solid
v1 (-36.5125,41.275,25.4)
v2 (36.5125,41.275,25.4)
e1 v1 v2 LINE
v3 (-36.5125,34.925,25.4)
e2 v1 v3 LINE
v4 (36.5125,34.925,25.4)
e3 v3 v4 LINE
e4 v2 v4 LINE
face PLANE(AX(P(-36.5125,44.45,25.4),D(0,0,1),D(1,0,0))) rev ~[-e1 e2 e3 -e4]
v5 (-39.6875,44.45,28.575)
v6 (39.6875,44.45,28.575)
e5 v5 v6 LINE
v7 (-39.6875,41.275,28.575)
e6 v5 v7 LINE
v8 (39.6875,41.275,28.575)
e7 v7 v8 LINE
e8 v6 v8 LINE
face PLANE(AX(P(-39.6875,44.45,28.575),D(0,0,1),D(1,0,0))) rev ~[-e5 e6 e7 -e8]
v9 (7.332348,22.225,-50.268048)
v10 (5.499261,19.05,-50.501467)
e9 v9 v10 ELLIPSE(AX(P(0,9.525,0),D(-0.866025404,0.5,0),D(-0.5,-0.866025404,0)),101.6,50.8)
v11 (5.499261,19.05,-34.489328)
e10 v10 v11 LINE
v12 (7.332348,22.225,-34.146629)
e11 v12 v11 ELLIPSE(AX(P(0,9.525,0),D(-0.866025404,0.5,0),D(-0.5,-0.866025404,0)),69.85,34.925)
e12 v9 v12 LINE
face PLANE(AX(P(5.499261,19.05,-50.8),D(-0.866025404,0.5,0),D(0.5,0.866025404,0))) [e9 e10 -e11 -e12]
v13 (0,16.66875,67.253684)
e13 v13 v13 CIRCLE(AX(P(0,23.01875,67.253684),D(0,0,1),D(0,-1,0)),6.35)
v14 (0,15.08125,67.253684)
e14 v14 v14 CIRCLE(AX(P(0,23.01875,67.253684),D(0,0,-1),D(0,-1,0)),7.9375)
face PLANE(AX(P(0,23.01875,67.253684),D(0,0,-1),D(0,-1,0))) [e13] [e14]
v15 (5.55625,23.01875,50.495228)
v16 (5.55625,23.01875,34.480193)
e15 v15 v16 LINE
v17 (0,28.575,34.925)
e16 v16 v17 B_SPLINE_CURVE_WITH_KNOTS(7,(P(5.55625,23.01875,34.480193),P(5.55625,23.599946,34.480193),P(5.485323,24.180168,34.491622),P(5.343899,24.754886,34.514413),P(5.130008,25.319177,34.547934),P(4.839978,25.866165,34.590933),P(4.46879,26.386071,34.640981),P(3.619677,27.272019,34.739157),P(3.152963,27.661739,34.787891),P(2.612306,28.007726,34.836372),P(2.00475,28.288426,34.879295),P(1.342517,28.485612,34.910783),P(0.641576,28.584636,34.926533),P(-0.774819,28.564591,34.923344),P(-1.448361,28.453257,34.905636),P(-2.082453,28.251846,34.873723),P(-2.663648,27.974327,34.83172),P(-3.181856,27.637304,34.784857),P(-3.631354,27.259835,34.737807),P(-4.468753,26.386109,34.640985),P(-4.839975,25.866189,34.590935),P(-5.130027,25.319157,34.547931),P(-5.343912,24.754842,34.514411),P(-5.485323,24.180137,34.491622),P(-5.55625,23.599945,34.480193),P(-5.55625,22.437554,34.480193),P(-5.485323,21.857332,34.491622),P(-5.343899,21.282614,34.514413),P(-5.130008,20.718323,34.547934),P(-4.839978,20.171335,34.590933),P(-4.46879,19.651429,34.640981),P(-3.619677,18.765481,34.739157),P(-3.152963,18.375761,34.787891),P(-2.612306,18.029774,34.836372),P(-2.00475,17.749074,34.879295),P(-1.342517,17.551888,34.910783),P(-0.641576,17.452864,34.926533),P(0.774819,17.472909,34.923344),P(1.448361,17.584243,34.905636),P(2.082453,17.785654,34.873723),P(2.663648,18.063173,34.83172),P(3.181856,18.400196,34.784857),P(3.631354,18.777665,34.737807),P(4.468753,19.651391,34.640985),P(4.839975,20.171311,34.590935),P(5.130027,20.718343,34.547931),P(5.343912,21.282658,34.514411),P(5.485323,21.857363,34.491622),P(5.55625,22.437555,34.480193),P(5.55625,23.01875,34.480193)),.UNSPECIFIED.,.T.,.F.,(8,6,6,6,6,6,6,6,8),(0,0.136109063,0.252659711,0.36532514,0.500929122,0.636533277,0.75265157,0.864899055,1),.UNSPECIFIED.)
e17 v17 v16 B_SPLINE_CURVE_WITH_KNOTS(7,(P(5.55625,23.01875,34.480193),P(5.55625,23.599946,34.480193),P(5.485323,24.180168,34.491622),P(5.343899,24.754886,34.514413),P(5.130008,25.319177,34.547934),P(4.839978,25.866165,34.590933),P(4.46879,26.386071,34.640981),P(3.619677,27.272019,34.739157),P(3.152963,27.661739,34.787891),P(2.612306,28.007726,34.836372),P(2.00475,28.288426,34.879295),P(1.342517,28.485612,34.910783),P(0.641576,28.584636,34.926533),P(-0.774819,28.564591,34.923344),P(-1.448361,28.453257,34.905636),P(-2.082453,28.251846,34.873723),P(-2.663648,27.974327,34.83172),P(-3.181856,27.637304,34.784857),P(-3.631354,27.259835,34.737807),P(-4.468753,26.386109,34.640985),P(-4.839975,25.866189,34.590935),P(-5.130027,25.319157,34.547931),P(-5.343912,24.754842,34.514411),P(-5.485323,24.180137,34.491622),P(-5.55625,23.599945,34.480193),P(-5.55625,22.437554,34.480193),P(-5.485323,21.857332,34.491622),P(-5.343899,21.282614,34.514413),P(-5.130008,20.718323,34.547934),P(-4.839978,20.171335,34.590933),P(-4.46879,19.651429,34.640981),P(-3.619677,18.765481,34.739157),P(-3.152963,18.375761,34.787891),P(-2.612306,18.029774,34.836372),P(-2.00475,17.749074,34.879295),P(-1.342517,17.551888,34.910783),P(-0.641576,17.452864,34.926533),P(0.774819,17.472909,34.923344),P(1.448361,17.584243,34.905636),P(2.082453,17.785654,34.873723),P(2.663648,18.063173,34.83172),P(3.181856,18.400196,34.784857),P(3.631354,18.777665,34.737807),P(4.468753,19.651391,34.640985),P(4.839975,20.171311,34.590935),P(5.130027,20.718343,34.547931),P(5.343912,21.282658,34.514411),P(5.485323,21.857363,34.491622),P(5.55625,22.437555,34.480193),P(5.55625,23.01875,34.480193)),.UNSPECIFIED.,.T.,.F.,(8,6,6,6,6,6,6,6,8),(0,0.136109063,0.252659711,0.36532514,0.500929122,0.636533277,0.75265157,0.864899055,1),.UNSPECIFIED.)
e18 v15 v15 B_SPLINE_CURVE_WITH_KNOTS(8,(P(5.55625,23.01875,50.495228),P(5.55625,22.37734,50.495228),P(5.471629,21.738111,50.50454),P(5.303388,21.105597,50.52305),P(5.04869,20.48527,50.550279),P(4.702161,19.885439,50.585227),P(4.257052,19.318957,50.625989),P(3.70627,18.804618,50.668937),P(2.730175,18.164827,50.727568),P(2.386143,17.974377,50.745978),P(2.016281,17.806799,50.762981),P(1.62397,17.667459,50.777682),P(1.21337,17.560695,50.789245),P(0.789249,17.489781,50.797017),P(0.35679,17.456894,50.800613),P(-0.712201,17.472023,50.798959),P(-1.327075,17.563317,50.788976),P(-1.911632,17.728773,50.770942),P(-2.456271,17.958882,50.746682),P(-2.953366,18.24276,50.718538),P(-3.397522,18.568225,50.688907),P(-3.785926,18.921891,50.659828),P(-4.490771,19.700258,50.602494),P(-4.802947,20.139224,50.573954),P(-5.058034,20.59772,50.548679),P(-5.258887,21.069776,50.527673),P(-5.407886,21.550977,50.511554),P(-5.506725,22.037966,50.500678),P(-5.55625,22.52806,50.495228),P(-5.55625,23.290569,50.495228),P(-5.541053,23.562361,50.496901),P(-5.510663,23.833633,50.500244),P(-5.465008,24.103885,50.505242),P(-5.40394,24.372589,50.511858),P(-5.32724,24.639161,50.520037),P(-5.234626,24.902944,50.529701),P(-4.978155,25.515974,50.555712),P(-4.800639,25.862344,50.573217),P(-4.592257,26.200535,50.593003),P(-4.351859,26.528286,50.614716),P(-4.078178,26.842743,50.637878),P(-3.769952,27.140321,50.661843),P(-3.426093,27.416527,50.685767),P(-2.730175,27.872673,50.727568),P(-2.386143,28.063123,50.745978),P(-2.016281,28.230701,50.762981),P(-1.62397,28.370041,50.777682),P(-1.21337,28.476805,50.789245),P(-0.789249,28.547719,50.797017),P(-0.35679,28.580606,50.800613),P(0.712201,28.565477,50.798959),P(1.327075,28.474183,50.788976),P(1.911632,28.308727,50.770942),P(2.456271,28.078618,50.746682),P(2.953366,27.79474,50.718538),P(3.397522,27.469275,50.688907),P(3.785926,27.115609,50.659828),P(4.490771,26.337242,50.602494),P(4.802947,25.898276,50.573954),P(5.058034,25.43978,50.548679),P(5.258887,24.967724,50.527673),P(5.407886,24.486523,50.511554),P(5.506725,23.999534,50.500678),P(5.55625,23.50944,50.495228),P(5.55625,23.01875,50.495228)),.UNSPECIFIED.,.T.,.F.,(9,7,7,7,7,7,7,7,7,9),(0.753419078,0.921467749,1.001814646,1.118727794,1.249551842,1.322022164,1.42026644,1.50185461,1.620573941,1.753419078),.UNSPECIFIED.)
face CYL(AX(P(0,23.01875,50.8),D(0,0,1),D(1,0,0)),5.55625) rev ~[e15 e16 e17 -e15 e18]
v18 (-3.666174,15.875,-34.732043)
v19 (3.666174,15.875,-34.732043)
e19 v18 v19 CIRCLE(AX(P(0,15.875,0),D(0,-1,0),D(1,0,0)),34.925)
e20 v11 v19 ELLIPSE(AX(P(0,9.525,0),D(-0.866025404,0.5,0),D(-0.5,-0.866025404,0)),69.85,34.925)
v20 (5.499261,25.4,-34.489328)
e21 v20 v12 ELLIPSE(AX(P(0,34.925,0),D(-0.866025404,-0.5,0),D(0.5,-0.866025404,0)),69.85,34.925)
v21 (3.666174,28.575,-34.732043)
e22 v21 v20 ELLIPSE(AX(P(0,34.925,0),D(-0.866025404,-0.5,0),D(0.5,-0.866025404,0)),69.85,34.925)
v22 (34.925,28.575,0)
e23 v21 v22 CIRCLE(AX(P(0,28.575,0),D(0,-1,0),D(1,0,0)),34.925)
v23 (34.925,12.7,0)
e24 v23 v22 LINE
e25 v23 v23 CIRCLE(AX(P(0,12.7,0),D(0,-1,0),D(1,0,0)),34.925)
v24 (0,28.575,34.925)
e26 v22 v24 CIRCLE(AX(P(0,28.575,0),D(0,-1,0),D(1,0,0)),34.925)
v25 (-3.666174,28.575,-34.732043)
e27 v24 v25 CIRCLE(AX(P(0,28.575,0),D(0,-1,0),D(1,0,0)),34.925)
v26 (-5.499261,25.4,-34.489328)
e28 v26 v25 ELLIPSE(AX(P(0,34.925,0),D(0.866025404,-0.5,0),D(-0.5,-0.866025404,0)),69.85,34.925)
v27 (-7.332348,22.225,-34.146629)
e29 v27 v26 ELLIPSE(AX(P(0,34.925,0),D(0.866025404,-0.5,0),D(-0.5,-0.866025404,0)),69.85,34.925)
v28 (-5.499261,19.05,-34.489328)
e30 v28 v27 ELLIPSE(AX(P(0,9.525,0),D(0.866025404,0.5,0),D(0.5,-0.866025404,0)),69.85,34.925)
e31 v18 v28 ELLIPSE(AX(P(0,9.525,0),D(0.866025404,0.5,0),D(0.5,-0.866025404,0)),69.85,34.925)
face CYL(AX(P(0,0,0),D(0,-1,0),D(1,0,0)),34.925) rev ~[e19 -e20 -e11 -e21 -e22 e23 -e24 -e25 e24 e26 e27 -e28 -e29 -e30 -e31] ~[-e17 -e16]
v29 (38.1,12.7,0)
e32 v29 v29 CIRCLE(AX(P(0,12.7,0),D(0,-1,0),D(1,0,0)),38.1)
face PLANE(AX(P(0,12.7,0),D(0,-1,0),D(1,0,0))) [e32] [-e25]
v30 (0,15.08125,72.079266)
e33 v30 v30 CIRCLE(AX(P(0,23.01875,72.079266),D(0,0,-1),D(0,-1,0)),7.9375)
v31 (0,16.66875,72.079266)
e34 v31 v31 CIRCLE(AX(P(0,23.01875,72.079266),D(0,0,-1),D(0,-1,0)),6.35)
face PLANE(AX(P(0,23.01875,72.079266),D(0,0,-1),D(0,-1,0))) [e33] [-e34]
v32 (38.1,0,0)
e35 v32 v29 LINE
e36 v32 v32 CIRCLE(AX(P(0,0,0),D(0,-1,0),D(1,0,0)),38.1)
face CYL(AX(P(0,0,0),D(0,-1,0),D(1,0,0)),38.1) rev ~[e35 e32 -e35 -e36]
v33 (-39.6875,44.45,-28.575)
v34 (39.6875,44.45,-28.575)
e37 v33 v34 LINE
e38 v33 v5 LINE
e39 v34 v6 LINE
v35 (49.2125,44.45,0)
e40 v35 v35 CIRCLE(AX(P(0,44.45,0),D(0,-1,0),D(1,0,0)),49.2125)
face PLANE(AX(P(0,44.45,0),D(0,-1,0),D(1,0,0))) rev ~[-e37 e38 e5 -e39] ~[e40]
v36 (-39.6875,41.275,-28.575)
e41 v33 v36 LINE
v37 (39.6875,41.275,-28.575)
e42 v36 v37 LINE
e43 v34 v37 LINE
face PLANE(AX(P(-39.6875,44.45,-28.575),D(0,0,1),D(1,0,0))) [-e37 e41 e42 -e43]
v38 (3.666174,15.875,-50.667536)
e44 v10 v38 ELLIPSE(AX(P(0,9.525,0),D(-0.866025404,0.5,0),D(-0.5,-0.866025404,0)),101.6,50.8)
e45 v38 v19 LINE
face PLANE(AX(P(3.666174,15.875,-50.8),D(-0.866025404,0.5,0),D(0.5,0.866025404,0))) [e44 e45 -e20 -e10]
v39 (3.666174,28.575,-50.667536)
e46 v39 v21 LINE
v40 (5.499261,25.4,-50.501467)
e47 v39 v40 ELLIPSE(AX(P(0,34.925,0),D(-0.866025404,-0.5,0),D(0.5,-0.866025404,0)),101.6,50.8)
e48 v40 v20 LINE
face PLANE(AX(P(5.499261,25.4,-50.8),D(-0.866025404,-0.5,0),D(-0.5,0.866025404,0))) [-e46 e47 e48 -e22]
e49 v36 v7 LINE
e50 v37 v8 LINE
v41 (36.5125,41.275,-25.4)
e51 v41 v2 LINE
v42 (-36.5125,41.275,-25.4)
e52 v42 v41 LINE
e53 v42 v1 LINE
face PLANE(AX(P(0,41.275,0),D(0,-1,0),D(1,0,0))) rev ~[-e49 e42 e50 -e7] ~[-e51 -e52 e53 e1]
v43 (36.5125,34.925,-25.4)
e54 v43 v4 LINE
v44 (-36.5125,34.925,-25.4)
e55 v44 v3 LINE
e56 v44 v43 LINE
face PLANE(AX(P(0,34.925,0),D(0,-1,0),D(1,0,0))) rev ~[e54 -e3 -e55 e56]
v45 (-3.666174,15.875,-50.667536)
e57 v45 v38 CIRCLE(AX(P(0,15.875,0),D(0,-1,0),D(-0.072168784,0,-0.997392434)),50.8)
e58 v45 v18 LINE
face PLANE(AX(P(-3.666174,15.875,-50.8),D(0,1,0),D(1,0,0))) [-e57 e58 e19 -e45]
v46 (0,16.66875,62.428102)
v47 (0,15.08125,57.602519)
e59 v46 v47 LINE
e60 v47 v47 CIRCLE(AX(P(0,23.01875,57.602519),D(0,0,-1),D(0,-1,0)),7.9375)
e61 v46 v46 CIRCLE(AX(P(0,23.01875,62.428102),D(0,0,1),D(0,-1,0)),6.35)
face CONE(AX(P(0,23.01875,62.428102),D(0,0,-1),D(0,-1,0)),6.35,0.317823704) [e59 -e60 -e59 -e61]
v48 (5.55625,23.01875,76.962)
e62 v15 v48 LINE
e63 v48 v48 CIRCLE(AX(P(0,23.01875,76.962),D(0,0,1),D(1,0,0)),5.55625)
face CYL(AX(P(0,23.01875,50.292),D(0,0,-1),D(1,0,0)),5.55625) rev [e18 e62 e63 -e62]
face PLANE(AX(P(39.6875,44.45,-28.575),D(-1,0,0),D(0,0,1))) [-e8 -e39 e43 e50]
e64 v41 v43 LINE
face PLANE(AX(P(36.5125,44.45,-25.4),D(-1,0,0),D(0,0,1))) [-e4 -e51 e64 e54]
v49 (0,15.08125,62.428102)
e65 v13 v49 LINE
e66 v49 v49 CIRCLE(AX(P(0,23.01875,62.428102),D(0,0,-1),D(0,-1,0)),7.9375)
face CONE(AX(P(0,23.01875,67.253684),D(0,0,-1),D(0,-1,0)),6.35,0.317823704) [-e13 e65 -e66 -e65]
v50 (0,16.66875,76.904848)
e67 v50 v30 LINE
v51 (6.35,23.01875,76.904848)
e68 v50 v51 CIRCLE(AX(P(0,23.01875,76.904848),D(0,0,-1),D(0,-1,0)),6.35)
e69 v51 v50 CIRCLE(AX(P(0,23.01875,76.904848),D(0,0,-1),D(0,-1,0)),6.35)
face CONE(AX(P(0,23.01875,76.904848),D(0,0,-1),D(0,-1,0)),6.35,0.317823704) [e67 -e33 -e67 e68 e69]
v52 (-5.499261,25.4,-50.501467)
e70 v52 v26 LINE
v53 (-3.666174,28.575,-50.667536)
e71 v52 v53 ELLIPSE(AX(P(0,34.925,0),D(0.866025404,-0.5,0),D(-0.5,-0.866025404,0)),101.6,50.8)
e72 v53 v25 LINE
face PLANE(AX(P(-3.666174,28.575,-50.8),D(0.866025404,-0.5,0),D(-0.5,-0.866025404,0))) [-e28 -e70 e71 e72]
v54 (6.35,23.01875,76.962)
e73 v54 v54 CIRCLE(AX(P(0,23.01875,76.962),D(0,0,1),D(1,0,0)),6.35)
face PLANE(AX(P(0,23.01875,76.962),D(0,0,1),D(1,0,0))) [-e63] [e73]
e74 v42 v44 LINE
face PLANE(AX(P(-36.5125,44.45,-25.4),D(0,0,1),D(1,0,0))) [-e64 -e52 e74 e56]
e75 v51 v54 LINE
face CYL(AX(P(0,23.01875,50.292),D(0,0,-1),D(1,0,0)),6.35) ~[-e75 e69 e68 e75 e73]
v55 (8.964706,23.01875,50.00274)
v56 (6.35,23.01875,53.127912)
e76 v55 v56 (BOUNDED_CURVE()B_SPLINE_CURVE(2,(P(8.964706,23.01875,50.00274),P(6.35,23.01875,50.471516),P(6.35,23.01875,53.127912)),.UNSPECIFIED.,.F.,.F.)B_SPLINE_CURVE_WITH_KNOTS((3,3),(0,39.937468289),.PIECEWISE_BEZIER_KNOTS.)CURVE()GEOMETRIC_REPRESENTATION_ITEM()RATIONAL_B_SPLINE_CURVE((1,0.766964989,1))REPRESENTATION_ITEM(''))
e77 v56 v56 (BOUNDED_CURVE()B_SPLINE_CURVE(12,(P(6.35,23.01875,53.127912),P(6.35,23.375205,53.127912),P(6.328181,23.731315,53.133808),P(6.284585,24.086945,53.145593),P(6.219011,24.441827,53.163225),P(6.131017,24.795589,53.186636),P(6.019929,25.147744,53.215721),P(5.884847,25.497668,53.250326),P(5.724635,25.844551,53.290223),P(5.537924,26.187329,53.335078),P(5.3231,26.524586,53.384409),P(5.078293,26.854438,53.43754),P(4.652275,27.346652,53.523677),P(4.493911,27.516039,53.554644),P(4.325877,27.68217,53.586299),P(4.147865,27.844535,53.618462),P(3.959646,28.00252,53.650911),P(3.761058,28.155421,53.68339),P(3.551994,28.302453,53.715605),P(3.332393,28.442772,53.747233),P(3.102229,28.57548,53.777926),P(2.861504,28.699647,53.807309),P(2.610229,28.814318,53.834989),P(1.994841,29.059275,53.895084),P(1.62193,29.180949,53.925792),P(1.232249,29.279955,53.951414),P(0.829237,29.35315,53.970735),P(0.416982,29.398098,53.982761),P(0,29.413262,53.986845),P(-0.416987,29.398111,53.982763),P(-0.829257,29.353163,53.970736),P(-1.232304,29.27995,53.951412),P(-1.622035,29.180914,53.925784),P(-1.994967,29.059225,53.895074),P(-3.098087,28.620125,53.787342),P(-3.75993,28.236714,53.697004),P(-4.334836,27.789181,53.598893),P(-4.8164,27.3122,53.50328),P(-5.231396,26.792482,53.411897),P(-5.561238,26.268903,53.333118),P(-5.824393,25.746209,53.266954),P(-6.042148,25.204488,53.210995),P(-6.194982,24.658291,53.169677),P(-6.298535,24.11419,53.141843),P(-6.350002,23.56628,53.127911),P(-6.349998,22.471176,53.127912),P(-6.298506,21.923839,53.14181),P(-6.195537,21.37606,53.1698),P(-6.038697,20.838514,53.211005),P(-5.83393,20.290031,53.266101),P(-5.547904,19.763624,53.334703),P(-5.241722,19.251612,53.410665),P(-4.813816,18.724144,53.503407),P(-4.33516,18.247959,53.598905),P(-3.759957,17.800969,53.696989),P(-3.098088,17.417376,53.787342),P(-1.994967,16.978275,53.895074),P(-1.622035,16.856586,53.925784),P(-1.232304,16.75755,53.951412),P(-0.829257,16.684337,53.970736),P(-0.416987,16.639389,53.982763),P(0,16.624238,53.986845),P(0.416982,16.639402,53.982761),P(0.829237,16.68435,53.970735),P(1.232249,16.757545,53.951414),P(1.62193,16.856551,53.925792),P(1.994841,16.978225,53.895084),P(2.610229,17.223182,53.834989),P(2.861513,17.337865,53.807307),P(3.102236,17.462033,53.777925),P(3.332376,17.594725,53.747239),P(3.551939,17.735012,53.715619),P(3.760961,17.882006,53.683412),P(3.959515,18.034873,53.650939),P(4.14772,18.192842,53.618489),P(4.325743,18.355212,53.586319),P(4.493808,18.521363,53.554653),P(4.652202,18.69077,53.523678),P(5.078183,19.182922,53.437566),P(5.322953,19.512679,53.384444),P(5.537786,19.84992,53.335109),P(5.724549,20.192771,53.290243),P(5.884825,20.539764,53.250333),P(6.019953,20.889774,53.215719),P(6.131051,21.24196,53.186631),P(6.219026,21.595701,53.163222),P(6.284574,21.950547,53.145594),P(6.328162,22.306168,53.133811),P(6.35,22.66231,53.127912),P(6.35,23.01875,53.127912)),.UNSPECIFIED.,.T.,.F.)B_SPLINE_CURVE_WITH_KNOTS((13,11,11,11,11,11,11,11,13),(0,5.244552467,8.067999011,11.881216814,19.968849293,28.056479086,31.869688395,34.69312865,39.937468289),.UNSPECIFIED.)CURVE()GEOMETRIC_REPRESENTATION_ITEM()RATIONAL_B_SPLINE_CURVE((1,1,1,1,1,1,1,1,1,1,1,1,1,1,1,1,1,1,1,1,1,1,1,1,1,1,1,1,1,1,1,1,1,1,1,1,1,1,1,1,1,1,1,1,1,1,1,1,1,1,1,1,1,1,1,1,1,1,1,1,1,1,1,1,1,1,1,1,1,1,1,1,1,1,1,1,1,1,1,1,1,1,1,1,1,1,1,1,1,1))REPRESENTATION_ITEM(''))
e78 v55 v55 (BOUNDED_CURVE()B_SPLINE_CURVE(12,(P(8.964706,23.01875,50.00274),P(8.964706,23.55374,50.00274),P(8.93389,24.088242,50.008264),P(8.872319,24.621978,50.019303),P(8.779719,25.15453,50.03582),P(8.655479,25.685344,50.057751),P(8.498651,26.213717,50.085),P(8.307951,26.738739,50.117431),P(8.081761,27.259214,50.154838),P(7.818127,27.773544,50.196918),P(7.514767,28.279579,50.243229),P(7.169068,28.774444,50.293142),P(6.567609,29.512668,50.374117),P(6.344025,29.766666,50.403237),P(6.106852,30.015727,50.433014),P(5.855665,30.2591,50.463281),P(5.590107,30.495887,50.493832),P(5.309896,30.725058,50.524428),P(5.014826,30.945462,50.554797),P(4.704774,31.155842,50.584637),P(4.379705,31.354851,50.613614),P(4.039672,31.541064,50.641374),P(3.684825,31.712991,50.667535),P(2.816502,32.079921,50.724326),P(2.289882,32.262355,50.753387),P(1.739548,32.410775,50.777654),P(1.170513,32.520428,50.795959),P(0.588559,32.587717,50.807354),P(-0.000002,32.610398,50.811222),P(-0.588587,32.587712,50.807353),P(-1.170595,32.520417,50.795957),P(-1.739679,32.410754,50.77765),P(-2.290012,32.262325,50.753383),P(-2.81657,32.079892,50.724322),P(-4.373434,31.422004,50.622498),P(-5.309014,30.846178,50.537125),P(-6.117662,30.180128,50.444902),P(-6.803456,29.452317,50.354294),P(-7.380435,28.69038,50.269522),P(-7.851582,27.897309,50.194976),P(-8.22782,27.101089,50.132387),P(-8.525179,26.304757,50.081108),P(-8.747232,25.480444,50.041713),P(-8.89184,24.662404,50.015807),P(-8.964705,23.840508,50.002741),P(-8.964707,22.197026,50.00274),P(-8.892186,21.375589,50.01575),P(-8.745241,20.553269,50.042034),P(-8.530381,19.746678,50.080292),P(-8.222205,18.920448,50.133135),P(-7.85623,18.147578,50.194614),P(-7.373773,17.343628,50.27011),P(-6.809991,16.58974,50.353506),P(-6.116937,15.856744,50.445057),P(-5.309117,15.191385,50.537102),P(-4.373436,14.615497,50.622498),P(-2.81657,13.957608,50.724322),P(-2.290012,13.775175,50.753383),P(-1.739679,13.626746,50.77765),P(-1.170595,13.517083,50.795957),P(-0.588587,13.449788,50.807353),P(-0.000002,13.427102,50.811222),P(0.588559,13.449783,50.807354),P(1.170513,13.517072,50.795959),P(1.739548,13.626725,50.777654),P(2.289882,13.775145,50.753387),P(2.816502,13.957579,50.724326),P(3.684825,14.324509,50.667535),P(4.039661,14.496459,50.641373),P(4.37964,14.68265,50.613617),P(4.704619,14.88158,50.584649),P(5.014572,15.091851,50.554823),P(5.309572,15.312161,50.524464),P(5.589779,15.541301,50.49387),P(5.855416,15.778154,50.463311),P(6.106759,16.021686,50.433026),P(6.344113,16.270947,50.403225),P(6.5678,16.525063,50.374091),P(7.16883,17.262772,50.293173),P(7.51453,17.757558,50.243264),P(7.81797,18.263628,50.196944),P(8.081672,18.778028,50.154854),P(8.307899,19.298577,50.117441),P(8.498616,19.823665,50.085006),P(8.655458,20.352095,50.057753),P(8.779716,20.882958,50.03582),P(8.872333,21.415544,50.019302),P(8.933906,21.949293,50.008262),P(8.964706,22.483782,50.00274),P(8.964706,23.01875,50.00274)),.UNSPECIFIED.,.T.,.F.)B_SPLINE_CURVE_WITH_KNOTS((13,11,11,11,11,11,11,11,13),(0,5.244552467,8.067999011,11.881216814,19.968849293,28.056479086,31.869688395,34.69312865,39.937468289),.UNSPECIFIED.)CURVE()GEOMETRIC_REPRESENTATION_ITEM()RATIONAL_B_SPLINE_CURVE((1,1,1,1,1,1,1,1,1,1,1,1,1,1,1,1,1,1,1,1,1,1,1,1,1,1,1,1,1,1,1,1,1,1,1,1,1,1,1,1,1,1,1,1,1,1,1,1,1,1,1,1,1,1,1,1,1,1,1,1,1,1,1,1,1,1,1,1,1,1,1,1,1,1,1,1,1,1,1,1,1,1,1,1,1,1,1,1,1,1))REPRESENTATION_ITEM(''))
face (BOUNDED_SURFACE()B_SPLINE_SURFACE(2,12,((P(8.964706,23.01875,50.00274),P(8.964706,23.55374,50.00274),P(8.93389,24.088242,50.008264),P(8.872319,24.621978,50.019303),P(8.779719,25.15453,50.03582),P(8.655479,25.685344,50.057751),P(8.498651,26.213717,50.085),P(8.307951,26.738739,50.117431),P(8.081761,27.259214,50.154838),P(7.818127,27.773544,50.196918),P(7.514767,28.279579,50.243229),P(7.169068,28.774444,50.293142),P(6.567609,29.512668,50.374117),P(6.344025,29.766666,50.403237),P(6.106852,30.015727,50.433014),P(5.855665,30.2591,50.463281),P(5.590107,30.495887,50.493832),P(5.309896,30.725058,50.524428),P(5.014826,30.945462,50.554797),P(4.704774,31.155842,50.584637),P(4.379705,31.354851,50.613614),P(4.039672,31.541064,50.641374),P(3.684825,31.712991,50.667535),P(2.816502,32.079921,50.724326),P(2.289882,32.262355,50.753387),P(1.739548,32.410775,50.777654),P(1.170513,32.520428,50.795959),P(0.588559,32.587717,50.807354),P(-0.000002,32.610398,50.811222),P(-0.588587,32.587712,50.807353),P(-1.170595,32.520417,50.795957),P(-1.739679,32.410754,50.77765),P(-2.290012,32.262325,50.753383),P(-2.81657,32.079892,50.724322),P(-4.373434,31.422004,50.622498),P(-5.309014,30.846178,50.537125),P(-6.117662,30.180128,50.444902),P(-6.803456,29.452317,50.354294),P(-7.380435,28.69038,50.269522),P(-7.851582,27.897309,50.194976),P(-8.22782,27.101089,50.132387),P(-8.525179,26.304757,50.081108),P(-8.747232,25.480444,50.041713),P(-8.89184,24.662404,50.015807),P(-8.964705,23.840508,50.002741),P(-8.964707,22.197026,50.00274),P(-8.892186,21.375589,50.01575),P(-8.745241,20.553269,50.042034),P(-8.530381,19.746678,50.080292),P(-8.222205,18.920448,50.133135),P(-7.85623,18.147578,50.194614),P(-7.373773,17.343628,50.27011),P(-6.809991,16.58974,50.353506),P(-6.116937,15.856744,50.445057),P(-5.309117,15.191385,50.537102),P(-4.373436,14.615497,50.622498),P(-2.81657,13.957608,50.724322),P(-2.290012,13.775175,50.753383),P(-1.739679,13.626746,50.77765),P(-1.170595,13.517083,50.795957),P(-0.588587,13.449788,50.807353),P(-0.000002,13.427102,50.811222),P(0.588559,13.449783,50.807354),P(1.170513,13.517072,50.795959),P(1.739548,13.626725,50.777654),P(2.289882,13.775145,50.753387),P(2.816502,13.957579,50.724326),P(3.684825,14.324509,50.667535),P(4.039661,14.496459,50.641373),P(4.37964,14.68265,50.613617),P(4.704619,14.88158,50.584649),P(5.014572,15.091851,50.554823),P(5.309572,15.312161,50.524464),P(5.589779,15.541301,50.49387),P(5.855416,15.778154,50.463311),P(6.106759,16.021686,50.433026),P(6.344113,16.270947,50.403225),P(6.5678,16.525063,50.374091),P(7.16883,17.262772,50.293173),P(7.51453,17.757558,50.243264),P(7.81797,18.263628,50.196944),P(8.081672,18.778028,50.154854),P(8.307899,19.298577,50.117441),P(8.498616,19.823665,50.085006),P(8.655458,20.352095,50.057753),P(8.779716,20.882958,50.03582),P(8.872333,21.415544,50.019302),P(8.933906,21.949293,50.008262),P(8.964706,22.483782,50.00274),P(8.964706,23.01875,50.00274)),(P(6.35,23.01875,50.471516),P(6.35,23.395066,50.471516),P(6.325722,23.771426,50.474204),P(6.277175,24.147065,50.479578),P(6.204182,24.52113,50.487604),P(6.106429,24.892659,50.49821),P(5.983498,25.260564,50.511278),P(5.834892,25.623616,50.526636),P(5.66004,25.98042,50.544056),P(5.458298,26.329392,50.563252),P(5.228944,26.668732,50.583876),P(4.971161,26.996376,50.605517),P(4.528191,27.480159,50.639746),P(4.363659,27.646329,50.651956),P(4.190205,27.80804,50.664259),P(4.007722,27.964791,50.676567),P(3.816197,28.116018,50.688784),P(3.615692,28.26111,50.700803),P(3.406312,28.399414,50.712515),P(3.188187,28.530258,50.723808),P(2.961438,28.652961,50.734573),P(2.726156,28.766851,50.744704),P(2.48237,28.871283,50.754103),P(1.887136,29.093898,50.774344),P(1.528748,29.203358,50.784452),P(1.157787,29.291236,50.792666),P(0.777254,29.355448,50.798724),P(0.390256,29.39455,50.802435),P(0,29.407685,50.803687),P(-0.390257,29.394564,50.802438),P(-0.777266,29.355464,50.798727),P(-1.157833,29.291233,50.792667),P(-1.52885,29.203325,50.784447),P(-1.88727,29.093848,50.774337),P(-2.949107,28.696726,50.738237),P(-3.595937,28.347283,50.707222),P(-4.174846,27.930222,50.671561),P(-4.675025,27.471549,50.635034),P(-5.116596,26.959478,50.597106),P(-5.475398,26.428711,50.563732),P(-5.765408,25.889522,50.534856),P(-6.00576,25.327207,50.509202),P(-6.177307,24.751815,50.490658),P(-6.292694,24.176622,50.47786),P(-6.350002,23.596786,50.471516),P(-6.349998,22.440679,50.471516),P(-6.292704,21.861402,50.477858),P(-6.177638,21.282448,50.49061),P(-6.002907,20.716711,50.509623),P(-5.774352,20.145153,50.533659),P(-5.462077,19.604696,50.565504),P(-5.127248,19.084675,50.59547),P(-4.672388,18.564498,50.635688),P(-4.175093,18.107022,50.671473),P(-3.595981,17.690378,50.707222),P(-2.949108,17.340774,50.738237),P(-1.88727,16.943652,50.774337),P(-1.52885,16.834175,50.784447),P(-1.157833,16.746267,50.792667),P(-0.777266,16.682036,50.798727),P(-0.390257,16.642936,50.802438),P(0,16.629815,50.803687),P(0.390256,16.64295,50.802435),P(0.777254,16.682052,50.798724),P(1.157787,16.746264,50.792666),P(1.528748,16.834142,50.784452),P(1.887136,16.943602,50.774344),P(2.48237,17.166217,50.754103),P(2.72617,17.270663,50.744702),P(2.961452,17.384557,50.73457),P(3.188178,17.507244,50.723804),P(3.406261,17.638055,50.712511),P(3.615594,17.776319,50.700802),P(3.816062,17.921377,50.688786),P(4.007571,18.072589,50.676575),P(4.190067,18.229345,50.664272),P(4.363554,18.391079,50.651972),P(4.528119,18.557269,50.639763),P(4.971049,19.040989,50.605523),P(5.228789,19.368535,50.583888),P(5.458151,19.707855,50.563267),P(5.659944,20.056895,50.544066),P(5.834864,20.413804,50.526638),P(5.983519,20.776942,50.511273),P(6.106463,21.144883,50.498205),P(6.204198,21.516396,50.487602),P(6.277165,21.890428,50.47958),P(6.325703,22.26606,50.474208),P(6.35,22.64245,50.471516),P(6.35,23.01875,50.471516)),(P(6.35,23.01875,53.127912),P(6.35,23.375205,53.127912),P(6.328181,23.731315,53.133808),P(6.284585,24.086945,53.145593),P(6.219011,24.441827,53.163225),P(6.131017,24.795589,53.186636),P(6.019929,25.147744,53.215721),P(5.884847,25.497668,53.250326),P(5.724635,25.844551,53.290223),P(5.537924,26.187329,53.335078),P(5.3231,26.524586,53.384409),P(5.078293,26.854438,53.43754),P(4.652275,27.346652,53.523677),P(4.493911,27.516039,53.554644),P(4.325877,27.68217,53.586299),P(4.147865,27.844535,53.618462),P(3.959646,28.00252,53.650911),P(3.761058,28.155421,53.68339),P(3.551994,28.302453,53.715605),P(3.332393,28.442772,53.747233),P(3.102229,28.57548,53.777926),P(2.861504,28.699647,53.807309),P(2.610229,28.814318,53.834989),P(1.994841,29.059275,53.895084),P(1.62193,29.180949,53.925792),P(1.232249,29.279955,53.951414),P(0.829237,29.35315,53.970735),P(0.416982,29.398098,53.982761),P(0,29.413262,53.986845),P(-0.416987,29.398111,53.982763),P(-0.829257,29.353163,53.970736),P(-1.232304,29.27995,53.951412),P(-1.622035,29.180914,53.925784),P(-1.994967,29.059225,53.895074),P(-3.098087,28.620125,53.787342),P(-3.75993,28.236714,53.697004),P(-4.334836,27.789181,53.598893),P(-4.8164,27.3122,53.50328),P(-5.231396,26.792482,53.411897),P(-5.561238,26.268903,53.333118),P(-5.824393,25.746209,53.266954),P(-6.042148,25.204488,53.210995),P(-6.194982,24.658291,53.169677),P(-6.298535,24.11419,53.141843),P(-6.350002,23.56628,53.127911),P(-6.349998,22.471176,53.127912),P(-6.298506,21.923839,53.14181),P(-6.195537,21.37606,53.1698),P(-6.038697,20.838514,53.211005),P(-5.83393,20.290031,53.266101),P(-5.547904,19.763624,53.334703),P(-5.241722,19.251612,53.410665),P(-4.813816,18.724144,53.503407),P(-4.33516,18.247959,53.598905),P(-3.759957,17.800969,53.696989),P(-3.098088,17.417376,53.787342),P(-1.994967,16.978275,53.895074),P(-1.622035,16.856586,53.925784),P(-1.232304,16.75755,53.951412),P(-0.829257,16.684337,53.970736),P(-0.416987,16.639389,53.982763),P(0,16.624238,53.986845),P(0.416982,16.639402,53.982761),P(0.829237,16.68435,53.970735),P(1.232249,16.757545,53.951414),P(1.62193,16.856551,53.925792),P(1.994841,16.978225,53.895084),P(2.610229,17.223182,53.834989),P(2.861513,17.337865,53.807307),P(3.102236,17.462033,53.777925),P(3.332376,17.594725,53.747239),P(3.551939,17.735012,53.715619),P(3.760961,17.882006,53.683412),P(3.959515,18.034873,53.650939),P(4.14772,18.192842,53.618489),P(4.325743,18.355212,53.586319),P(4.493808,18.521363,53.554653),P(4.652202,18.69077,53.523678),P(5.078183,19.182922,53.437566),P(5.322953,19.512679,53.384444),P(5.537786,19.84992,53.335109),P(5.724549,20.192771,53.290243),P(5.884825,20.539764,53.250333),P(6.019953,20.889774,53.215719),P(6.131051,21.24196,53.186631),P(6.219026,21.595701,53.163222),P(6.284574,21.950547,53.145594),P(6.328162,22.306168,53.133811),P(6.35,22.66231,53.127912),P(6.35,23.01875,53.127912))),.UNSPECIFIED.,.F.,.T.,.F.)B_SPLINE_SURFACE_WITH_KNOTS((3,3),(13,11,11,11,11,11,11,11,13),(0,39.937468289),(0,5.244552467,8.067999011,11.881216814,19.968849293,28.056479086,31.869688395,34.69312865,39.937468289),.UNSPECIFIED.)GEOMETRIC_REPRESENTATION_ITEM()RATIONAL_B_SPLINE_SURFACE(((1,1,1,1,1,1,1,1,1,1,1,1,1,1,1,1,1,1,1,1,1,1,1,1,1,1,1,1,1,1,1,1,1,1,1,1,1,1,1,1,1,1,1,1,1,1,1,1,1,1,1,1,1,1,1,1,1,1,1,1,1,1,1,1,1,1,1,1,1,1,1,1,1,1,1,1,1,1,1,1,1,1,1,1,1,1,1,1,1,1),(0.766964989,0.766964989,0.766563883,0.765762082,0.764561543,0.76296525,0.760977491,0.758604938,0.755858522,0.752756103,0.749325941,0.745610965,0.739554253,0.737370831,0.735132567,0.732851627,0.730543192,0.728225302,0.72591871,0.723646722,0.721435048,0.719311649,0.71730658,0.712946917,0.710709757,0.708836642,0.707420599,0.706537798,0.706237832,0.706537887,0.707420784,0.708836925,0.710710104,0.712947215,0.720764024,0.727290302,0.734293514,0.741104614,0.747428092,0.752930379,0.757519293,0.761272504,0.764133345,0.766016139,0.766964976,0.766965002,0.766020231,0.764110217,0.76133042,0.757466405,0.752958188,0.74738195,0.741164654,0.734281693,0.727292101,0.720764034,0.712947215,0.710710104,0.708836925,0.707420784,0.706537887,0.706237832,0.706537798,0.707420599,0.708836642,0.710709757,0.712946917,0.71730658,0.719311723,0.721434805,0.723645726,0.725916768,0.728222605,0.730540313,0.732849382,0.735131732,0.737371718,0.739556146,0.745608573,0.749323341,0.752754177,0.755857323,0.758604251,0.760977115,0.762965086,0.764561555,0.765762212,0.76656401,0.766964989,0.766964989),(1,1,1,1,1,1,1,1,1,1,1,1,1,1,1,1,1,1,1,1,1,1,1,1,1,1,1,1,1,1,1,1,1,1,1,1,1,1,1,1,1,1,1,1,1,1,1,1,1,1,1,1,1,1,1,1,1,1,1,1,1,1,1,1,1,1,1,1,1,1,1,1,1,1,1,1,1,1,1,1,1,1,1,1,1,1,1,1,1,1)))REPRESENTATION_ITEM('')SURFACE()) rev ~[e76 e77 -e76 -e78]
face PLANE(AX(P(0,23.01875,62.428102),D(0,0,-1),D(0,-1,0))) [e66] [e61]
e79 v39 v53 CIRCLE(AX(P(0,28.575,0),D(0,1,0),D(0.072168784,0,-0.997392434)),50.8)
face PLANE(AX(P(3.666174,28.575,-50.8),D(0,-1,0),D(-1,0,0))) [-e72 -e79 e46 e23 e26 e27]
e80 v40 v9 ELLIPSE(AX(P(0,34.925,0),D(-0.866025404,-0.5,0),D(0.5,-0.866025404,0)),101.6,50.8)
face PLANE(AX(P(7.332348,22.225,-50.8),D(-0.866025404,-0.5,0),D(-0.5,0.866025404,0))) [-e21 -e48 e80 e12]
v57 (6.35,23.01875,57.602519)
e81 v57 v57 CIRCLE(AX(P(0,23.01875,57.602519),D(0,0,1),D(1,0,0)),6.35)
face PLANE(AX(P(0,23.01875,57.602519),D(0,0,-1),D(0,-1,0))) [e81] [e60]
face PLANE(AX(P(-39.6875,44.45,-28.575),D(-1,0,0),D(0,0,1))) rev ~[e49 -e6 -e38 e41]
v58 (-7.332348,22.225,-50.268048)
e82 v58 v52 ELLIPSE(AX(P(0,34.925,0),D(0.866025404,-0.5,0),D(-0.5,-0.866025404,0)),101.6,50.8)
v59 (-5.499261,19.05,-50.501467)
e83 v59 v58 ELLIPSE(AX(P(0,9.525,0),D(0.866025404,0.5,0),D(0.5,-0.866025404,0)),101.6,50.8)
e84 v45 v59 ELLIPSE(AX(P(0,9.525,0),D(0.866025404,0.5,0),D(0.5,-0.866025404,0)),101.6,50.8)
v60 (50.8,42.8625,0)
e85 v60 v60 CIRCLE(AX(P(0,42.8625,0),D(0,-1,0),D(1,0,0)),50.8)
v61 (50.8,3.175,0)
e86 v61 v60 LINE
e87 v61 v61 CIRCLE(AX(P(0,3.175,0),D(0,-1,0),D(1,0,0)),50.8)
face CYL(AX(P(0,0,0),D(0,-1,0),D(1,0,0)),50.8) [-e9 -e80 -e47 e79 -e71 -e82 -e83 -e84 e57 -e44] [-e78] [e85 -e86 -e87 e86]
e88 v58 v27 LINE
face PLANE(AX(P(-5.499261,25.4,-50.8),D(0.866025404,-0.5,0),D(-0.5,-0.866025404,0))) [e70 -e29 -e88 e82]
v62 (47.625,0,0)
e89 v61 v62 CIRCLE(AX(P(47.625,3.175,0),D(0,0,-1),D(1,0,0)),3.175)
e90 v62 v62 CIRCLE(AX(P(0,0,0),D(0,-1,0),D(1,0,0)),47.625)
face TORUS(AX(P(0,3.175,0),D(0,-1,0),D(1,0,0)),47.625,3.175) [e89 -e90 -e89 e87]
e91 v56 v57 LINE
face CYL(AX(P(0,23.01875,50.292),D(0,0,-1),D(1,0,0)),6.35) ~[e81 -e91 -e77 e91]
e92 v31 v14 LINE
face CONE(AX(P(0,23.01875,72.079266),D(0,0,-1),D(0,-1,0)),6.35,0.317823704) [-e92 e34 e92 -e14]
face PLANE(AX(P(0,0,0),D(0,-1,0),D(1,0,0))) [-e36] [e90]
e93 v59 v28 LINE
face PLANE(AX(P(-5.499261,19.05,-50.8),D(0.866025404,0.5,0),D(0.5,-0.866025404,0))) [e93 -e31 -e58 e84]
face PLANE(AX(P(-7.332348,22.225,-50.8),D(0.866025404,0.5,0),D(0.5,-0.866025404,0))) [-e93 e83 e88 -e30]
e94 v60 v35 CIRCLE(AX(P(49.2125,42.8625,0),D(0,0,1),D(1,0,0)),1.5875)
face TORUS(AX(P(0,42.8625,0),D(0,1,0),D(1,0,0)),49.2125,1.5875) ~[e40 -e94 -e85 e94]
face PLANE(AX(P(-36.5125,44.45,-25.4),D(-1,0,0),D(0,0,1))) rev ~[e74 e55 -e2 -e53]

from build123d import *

# Parameters (mm, degrees)
F0_R           = 50.8
F1_DEPTH       = 44.45
F2_R           = 34.925
F3_DEPTH       = 28.575
F4_R           = 38.1
F5_DEPTH       = 12.7
F8_R           = 3.175
F9_R           = 1.5875
F12_DEPTH      = 25.4
F13_R          = 5.55625
F14_DEPTH      = 17.4625
F15_R          = 6.35
F15_R_2        = 5.55625
F16_DEPTH      = 26.67
F20_R          = 3.175
F22_W          = 73.025
F22_H          = 50.8
F23_DEPTH      = 9.525
F22_W_2        = 79.375
F22_H_2        = 57.15
F24_DEPTH      = 3.175
F24_DEPTH_BACK = 25.4


with BuildPart() as f1:
    # F0 (on Front) → F1 (new body)
    with BuildSketch(Plane.XZ):
        Circle(F0_R)
    extrude(amount=-F1_DEPTH)

    # F2 (on Front) → F3 (cut)
    with BuildSketch(Plane.XZ):
        Circle(F2_R)
    extrude(amount=-F3_DEPTH, mode=Mode.SUBTRACT)

    # F4 (on Front) → F5 (cut)
    with BuildSketch(Plane.XZ):
        Circle(F4_R)
    extrude(amount=-F5_DEPTH, mode=Mode.SUBTRACT)

    # F8
    f8_edges = [f1.edges().sort_by_distance(p)[0] for p in [
        (-50.8, 0, 0),
    ]]
    fillet(f8_edges, radius=F8_R)

    # F9
    f9_edges = [f1.edges().sort_by_distance(p)[0] for p in [
        (-50.8, 44.45, 0),
    ]]
    fillet(f9_edges, radius=F9_R)

    # F11 (on offset) → F12 (cut)
    with BuildSketch(Plane.XY.offset(-50.8)):
        with BuildLine():
            ThreePointArc((5.4992612052, 19.0499998116), (6.1336289688, 20.5814989585), (6.35, 22.225))
            ThreePointArc((6.35, 22.225), (6.1336290298, 23.8685008137), (5.4992614411, 25.3999997799))
            ThreePointArc((5.4992614411, 25.3999997799), (3.17500011, 27.7242612505), (0, 28.575))
            ThreePointArc((0, 28.575), (-3.1749999058, 27.7242613684), (-5.4992612052, 25.4000001884))
            ThreePointArc((-5.4992612052, 25.4000001884), (-6.35, 22.2249999281), (-5.4992611333, 19.049999687))
            ThreePointArc((-5.4992611333, 19.049999687), (-3.1749998435, 16.7257385956), (0, 15.875))
            ThreePointArc((0, 15.875), (3.1749999058, 16.7257386316), (5.4992612052, 19.0499998116))
        make_face()
        with BuildLine():
            ThreePointArc((0, 28.575), (3.17500011, 27.7242612505), (5.4992614411, 25.3999997799))
            Line((5.4992614411, 25.3999997799), (3.6661742094, 28.575))
            Line((3.6661742094, 28.575), (0, 28.575))
        make_face()
        with BuildLine():
            ThreePointArc((-5.4992612052, 25.4000001884), (-3.1749999058, 27.7242613684), (0, 28.575))
            Line((0, 28.575), (-3.6661742094, 28.575))
            Line((-3.6661742094, 28.575), (-5.4992612052, 25.4000001884))
        make_face()
        with BuildLine():
            ThreePointArc((-5.4992611333, 19.049999687), (-6.35, 22.2249999281), (-5.4992612052, 25.4000001884))
            Line((-5.4992612052, 25.4000001884), (-7.3323484187, 22.225))
            Line((-7.3323484187, 22.225), (-5.4992611333, 19.049999687))
        make_face()
        with BuildLine():
            Line((-3.6661742094, 15.875), (0, 15.875))
            ThreePointArc((0, 15.875), (-3.1749998435, 16.7257385956), (-5.4992611333, 19.049999687))
            Line((-5.4992611333, 19.049999687), (-3.6661742094, 15.875))
        make_face()
        with BuildLine():
            Line((3.6661742094, 15.875), (5.4992612052, 19.0499998116))
            ThreePointArc((5.4992612052, 19.0499998116), (3.1749999058, 16.7257386316), (0, 15.875))
            Line((0, 15.875), (3.6661742094, 15.875))
        make_face()
        with BuildLine():
            ThreePointArc((5.4992614411, 25.3999997799), (6.1336290298, 23.8685008137), (6.35, 22.225))
            ThreePointArc((6.35, 22.225), (6.1336289688, 20.5814989585), (5.4992612052, 19.0499998116))
            Line((5.4992612052, 19.0499998116), (7.3323484187, 22.225))
            Line((7.3323484187, 22.225), (5.4992614411, 25.3999997799))
        make_face()
    extrude(amount=F12_DEPTH, mode=Mode.SUBTRACT)

    # F13 (on offset) → F14 (cut)
    with BuildSketch(Plane.XY.offset(50.8)):
        with Locations((0, 23.01875)):
            Circle(F13_R)
    extrude(amount=-F14_DEPTH, mode=Mode.SUBTRACT)


with BuildPart() as f16:
    # F15 (on offset) → F16 (new body)
    with BuildSketch(Plane.XY.offset(50.8)):
        with Locations((0, 23.01875)):
            Circle(F15_R)
        with Locations((0, 23.01875)):
            Circle(F15_R_2, mode=Mode.SUBTRACT)
    extrude(amount=F16_DEPTH)


with BuildPart() as f16_1:
    # F18: moved
    add(f16.part.moved(Location((0, 0, -0.508))))

    # F19: union F1
    add(f1.part)

    # F20
    f20_edges = [f16_1.edges().sort_by_distance(p)[0] for p in [
        (-6.35, 23.01875, 50.401562),
    ]]
    fillet(f20_edges, radius=F20_R)

    # F17 (on Right) → F21 (revolve)
    with BuildSketch(Plane.YZ):
        Polygon((16.66875, 67.2536837804), (16.66875, 72.0792659992), (15.08125, 67.2536837804), align=None)
        Polygon((16.66875, 62.4281015617), (16.66875, 67.2536837804), (15.08125, 62.4281015617), align=None)
        Polygon((16.66875, 57.6025193429), (16.66875, 62.4281015617), (15.08125, 57.6025193429), align=None)
        Polygon((16.66875, 72.0792659992), (16.66875, 76.904848218), (15.08125, 72.0792659992), align=None)
    revolve(axis=Axis((0, 23.01875, 64.9531239529), (0, 0, -1)))

    # F22 (on offset) → F23 (cut)
    with BuildSketch(Plane.XZ.offset(-44.45)):
        Rectangle(F22_W, F22_H)
    extrude(amount=F23_DEPTH, mode=Mode.SUBTRACT)

    # F22 (on offset) → F24 (cut, two sides)
    with BuildSketch(Plane.XZ.offset(-44.45)) as f24_sk:
        Rectangle(F22_W_2, F22_H_2)
        Rectangle(F22_W, F22_H, mode=Mode.SUBTRACT)
    extrude(amount=F24_DEPTH, mode=Mode.SUBTRACT)
    extrude(f24_sk.sketch, amount=-F24_DEPTH_BACK, mode=Mode.SUBTRACT)


solid = f16_1.part
